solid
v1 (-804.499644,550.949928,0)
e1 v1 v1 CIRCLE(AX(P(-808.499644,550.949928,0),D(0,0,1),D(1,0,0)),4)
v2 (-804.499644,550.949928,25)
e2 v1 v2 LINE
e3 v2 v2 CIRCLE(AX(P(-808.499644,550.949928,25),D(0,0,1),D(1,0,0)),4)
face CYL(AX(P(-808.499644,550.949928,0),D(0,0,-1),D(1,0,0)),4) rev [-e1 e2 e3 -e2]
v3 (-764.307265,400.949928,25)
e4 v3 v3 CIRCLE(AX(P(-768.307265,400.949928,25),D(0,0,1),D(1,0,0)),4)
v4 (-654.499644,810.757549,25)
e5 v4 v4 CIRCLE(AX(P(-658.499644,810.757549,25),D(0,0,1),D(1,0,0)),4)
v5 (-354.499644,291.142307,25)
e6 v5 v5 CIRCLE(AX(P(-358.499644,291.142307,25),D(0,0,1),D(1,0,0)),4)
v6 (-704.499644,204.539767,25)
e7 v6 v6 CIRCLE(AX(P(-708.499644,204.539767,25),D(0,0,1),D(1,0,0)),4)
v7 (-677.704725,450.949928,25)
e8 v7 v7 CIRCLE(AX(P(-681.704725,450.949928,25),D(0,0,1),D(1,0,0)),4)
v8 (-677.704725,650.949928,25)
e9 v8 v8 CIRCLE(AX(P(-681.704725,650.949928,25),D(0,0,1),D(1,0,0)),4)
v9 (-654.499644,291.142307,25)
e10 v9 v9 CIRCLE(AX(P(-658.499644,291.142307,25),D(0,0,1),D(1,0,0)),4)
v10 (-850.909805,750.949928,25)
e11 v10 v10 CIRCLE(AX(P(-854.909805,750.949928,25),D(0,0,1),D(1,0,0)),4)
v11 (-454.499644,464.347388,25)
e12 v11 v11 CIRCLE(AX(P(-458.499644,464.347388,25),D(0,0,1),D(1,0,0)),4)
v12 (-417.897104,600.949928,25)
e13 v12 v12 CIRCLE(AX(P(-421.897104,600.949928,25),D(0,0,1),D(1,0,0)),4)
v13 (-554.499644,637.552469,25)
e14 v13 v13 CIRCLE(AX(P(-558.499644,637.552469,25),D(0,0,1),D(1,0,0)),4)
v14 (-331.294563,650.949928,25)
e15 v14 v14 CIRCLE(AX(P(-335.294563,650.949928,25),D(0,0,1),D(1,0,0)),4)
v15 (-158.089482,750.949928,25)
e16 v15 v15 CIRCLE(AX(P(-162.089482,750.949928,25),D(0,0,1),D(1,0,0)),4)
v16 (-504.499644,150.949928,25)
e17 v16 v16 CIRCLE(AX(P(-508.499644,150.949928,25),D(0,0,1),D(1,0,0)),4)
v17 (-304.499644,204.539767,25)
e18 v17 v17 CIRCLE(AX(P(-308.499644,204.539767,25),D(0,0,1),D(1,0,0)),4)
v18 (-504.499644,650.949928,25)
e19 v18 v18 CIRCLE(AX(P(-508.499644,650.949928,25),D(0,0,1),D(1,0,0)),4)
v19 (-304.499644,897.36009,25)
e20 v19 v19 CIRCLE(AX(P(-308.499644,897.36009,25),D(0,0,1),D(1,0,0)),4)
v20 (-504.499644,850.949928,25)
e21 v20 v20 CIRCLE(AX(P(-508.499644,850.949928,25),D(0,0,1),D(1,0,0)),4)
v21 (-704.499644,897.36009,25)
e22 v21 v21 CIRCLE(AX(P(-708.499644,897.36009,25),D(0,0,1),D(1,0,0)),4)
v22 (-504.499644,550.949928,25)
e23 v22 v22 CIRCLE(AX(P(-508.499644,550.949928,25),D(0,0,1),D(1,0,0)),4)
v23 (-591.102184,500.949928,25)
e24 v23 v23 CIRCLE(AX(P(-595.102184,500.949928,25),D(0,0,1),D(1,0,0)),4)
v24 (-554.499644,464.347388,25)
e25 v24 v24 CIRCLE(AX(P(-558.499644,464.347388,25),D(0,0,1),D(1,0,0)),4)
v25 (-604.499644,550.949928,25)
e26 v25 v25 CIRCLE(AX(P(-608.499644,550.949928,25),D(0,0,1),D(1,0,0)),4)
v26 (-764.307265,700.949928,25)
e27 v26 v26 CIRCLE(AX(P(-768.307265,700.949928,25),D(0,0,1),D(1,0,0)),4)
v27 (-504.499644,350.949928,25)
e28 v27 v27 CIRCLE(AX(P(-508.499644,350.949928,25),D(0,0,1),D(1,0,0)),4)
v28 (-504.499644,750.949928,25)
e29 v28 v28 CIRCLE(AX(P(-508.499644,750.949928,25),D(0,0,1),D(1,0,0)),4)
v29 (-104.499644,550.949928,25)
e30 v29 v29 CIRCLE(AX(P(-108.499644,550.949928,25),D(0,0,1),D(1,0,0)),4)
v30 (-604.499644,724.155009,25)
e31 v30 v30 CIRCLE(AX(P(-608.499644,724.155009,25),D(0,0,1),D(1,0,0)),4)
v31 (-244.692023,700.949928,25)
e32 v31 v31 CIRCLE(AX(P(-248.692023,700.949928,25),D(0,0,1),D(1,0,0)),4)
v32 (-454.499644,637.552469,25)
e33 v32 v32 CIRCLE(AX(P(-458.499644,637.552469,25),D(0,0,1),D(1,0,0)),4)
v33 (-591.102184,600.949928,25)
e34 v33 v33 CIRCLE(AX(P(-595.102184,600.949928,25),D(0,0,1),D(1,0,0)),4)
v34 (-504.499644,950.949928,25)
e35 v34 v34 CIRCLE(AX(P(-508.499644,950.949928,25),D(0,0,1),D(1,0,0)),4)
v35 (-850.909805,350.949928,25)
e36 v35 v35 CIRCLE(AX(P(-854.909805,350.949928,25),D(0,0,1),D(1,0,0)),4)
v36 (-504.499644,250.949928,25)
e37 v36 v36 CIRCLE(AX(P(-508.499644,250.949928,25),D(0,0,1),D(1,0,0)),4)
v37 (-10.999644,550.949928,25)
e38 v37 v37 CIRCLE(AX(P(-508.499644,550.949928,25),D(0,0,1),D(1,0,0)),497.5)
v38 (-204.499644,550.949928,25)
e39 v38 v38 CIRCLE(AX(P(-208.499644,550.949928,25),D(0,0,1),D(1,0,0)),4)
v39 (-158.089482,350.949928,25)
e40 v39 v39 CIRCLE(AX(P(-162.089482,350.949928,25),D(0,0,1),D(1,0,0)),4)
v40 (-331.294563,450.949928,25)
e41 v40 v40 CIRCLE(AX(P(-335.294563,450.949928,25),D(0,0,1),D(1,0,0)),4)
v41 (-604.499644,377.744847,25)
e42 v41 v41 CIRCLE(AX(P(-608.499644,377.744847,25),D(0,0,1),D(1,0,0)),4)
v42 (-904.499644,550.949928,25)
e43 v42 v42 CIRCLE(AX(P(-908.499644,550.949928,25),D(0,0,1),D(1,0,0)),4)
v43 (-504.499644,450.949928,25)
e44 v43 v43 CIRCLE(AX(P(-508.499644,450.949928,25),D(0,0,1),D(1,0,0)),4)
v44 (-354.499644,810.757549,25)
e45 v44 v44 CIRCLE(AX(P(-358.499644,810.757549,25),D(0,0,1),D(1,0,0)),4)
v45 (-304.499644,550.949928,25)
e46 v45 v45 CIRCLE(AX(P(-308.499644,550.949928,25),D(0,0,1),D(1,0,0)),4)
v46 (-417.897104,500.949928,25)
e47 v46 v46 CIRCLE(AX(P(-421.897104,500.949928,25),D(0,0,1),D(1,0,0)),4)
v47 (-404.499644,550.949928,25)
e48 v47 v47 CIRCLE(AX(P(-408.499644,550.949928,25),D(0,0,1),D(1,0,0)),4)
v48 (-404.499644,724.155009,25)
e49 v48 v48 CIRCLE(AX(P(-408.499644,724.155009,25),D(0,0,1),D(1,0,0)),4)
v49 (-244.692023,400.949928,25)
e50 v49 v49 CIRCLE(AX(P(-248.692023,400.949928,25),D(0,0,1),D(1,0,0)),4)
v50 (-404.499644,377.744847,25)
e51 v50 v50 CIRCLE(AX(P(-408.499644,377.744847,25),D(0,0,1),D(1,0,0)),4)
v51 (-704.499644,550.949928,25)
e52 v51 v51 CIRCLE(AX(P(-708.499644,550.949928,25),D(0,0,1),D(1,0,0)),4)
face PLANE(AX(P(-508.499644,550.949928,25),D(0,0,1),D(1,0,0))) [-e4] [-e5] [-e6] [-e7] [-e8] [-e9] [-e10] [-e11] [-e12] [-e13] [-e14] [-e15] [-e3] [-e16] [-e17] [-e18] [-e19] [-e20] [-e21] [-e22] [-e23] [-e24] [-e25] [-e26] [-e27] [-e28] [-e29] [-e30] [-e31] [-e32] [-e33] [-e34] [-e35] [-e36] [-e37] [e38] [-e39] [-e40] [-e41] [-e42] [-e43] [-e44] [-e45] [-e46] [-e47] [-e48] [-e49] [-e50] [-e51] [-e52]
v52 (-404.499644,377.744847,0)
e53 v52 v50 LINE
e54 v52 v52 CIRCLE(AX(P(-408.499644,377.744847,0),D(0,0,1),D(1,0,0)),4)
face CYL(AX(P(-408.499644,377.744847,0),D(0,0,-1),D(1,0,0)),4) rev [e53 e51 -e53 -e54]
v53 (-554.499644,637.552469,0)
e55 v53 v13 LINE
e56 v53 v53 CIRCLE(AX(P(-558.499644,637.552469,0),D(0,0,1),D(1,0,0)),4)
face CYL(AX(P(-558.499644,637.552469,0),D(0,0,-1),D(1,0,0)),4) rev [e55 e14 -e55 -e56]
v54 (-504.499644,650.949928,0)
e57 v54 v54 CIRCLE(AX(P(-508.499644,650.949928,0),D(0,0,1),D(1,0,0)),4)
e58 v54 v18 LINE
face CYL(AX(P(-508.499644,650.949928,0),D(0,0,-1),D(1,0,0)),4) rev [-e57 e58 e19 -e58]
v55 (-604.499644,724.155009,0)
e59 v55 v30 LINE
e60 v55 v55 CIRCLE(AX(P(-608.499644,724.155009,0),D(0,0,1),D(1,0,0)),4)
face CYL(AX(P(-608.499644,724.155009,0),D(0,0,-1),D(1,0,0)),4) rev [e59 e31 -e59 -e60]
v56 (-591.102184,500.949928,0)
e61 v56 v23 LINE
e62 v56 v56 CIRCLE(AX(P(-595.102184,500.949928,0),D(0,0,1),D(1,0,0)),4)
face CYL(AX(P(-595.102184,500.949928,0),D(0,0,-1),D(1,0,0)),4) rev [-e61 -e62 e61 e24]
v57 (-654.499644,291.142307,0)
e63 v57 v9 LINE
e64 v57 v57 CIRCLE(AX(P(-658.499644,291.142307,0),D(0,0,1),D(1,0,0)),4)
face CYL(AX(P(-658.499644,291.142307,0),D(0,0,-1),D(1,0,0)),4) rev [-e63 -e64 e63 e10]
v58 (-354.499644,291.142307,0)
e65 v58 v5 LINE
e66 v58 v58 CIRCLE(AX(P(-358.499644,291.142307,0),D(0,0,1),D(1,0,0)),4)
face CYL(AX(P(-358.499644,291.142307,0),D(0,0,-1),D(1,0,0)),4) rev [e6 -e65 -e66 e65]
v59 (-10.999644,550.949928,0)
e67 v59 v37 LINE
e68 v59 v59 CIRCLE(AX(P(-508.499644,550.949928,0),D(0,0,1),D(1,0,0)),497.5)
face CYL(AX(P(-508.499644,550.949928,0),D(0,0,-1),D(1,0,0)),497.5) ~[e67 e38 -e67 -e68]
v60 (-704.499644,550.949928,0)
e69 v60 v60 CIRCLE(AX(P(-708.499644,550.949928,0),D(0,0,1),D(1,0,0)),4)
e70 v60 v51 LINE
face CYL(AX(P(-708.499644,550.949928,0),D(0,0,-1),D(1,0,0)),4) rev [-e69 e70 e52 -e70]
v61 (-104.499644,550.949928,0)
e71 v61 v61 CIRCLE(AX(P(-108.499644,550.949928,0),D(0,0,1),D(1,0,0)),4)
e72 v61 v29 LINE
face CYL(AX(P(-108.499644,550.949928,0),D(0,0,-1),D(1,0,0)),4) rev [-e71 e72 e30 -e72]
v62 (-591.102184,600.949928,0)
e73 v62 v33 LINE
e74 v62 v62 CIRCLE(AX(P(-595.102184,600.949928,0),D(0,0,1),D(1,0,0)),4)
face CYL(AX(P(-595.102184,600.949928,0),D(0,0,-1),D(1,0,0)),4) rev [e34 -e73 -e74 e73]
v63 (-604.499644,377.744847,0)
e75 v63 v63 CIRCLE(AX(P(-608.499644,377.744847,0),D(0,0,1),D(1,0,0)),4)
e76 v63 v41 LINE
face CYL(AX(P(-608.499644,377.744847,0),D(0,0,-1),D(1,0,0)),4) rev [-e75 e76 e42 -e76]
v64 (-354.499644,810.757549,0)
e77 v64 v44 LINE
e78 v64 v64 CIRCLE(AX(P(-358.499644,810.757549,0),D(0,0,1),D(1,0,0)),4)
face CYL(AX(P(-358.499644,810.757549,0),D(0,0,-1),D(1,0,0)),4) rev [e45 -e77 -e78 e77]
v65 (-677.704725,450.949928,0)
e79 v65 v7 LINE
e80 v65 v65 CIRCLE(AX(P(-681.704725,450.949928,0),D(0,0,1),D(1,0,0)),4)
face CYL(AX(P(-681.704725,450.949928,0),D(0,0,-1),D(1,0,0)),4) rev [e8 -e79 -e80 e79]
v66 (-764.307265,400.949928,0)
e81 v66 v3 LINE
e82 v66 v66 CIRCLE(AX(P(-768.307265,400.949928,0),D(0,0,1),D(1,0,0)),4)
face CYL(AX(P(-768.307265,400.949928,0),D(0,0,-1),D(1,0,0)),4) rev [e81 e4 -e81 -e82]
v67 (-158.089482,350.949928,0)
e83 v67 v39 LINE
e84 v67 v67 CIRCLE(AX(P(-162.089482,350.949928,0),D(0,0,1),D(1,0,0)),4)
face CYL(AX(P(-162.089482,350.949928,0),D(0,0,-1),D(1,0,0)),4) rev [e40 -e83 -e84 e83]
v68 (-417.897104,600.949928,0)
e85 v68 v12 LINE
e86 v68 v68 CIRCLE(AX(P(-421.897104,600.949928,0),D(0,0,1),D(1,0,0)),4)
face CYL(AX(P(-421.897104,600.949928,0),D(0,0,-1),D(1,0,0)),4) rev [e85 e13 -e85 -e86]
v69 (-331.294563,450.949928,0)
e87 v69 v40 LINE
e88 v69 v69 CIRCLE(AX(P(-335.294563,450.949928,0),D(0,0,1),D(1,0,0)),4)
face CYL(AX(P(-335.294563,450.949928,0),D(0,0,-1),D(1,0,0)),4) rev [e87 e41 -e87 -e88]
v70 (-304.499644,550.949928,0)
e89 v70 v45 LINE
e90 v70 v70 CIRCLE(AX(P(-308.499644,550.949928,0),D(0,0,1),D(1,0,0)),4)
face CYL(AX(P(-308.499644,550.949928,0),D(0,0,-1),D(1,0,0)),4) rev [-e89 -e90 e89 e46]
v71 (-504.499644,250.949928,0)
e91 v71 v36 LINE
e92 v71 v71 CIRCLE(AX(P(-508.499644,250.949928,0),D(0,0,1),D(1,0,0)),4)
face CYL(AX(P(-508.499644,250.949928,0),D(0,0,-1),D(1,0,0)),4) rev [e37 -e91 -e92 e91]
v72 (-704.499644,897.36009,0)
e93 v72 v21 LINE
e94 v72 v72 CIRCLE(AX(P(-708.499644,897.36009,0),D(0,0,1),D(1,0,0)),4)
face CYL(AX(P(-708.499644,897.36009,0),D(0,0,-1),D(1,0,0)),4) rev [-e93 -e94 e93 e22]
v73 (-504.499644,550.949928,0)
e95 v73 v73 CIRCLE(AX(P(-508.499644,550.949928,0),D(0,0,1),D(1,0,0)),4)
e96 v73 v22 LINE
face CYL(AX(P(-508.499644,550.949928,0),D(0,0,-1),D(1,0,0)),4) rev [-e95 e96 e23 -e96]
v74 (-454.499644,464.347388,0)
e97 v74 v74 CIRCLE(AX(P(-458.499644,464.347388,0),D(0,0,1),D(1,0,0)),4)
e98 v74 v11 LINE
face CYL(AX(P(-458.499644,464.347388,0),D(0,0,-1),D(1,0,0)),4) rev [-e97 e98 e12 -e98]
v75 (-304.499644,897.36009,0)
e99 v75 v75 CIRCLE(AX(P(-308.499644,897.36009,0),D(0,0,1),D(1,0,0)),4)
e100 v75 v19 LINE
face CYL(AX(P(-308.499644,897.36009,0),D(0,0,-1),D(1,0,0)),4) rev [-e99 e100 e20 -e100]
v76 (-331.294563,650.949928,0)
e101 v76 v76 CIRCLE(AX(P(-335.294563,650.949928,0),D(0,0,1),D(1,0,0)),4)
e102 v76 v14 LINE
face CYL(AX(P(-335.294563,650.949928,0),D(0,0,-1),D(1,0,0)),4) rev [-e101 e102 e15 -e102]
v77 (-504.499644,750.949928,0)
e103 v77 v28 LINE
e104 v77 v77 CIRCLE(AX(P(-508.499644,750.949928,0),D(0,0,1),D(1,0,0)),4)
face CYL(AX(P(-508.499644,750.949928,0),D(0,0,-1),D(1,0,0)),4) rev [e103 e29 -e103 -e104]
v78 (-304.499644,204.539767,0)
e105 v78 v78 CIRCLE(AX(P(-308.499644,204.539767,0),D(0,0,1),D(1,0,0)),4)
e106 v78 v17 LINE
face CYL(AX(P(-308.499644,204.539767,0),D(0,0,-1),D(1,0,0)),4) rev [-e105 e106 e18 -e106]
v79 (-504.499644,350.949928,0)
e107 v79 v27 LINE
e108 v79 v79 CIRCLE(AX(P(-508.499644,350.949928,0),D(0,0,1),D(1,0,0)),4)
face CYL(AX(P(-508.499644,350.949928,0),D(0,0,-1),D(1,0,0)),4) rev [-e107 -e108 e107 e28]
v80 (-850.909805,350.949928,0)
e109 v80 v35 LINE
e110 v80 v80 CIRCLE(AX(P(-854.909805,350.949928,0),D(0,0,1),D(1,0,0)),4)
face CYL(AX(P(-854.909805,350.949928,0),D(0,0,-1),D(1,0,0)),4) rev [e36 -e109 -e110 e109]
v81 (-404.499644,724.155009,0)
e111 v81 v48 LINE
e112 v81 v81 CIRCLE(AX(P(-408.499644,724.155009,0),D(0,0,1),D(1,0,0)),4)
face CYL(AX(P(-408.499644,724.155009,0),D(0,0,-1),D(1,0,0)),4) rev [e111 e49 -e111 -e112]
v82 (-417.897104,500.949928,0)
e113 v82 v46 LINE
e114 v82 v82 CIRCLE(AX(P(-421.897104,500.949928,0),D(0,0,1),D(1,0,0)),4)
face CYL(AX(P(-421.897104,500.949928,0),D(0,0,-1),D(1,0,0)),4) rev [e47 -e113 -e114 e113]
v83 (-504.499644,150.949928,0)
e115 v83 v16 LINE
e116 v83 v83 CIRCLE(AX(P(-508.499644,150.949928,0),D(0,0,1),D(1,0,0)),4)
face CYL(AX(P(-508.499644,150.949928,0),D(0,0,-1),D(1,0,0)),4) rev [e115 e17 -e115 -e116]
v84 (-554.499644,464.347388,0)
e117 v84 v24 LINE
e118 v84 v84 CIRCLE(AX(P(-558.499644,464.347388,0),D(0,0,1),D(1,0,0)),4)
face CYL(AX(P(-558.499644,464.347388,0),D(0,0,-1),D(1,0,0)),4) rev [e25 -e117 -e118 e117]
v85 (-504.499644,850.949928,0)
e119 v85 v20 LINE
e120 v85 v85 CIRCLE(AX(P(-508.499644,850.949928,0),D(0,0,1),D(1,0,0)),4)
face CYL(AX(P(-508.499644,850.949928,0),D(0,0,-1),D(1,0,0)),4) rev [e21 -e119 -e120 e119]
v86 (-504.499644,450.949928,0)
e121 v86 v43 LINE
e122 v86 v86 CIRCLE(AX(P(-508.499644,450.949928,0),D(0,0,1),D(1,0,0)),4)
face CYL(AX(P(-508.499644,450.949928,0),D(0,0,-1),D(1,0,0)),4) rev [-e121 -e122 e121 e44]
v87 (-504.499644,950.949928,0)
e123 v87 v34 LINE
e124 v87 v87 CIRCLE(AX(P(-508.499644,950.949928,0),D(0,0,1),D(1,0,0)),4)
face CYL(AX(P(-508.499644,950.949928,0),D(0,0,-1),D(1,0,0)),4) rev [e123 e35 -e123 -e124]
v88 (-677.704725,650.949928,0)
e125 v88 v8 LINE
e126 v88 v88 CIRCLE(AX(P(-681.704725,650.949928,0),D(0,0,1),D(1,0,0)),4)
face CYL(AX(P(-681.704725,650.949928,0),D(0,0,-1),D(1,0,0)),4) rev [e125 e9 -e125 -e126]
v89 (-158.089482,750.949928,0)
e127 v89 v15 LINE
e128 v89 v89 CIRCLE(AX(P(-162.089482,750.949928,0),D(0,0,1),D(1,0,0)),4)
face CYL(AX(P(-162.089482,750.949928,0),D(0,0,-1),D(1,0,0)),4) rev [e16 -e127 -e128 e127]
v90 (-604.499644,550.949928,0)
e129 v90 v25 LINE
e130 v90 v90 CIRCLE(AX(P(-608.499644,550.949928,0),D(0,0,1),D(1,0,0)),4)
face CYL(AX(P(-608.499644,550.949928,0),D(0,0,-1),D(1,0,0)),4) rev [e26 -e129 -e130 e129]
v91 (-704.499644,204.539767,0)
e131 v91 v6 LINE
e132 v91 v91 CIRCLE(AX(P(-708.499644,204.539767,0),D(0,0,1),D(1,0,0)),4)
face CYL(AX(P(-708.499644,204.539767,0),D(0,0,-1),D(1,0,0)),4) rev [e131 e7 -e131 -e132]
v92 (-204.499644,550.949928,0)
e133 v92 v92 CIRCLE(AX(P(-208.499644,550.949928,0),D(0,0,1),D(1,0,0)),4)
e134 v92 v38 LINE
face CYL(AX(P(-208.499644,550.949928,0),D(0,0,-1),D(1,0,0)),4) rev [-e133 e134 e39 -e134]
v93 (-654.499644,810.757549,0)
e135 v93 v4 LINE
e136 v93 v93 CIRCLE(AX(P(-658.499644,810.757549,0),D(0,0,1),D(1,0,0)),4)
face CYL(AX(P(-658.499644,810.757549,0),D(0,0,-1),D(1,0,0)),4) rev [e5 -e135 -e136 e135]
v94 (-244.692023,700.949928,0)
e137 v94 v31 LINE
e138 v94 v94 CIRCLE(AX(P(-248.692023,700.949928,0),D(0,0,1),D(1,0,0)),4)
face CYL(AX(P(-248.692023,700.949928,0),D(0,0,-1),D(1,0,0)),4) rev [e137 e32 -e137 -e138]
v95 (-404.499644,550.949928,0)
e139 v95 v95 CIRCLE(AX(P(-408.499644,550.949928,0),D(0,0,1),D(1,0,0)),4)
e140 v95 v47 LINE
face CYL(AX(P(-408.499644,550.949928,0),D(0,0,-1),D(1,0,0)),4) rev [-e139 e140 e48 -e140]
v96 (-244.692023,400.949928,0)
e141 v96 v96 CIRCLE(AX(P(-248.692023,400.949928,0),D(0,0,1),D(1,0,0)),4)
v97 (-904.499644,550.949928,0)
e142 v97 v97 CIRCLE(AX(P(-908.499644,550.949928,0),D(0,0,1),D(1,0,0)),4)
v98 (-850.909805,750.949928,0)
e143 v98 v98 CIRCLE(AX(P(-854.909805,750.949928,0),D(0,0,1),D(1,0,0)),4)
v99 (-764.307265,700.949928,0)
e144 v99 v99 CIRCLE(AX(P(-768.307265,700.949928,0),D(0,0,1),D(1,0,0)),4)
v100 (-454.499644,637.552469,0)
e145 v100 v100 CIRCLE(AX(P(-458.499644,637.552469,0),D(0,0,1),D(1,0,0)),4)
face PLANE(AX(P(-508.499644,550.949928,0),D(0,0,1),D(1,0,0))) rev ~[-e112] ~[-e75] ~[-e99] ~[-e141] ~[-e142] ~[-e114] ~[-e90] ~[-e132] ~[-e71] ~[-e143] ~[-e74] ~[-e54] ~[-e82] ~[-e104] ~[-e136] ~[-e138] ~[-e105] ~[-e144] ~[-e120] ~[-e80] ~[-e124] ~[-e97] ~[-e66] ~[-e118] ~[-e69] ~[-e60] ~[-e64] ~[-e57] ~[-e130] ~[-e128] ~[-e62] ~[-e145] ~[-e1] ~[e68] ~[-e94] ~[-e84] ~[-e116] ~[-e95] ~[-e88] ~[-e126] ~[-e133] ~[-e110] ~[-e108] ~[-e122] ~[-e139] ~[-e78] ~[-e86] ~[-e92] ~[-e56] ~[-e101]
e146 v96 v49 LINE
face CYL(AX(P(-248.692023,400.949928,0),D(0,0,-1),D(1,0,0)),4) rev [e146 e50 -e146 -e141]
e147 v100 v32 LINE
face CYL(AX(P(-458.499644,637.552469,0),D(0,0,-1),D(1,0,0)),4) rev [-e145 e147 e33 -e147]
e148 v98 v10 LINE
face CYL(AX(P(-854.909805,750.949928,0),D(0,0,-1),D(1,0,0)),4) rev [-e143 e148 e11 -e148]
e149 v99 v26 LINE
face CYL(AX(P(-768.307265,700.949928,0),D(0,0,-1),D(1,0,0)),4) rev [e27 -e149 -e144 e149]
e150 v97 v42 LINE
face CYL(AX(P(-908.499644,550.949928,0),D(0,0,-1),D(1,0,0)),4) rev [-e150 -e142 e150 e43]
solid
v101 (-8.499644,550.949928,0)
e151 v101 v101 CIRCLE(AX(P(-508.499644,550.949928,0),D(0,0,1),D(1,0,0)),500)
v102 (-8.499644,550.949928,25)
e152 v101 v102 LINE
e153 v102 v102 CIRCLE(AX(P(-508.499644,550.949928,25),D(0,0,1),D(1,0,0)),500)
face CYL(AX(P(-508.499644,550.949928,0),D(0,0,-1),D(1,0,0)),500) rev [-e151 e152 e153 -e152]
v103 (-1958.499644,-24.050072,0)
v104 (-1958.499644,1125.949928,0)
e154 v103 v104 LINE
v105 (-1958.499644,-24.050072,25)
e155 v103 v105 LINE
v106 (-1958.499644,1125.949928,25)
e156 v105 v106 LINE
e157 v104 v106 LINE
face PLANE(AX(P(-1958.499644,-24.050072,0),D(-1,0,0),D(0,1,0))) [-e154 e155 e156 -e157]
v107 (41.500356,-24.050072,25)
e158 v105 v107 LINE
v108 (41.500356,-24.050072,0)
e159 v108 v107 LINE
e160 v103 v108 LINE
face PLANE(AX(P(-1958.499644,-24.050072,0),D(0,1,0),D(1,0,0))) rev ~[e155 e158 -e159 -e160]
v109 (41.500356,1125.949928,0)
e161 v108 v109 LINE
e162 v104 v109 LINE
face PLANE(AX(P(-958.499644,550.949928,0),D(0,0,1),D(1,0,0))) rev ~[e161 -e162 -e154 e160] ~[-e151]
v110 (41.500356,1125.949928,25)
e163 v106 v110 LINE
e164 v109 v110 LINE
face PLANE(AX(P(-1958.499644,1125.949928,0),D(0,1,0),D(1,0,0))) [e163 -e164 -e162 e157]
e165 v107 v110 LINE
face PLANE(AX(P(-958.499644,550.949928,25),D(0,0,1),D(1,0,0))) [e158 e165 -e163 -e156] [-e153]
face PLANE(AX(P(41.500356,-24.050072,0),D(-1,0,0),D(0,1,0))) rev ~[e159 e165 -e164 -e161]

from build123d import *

# Parameters (mm, degrees)
F0_W     = 2000
F0_H     = 1150
F0_R     = 500
F1_DEPTH = 25
F2_R     = 497.5
F2_R_2   = 4
F3_DEPTH = 25


with BuildPart() as f1:
    # F0 (on Top) → F1 (new body)
    with BuildSketch(Plane.XY):
        with Locations((-958.499644, 550.949928)):
            Rectangle(F0_W, F0_H)
        with Locations((-508.499644, 550.949928)):
            Circle(F0_R, mode=Mode.SUBTRACT)
    extrude(amount=F1_DEPTH)


with BuildPart() as f3:
    # F2 (on face) → F3 (new body)
    with BuildSketch(Plane.XY):
        with Locations((-508.499644, 550.949928)):
            Circle(F2_R)
        with Locations((-708.499644, 204.539767)):
            Circle(F2_R_2, mode=Mode.SUBTRACT)
        with Locations((-658.499644, 291.142307)):
            Circle(F2_R_2, mode=Mode.SUBTRACT)
        with Locations((-854.909805, 350.949928)):
            Circle(F2_R_2, mode=Mode.SUBTRACT)
        with Locations((-768.307265, 400.949928)):
            Circle(F2_R_2, mode=Mode.SUBTRACT)
        with Locations((-608.499644, 377.744847)):
            Circle(F2_R_2, mode=Mode.SUBTRACT)
        with Locations((-681.704725, 450.949928)):
            Circle(F2_R_2, mode=Mode.SUBTRACT)
        with Locations((-558.499644, 464.347388)):
            Circle(F2_R_2, mode=Mode.SUBTRACT)
        with Locations((-595.102184, 500.949928)):
            Circle(F2_R_2, mode=Mode.SUBTRACT)
        with Locations((-508.499644, 150.949928)):
            Circle(F2_R_2, mode=Mode.SUBTRACT)
        with Locations((-508.499644, 250.949928)):
            Circle(F2_R_2, mode=Mode.SUBTRACT)
        with Locations((-308.499644, 204.539767)):
            Circle(F2_R_2, mode=Mode.SUBTRACT)
        with Locations((-358.499644, 291.142307)):
            Circle(F2_R_2, mode=Mode.SUBTRACT)
        with Locations((-508.499644, 350.949928)):
            Circle(F2_R_2, mode=Mode.SUBTRACT)
        with Locations((-408.499644, 377.744847)):
            Circle(F2_R_2, mode=Mode.SUBTRACT)
        with Locations((-508.499644, 450.949928)):
            Circle(F2_R_2, mode=Mode.SUBTRACT)
        with Locations((-458.499644, 464.347388)):
            Circle(F2_R_2, mode=Mode.SUBTRACT)
        with Locations((-421.897104, 500.949928)):
            Circle(F2_R_2, mode=Mode.SUBTRACT)
        with Locations((-408.499644, 550.949928)):
            Circle(F2_R_2, mode=Mode.SUBTRACT)
        with Locations((-335.294563, 450.949928)):
            Circle(F2_R_2, mode=Mode.SUBTRACT)
        with Locations((-308.499644, 550.949928)):
            Circle(F2_R_2, mode=Mode.SUBTRACT)
        with Locations((-162.089482, 350.949928)):
            Circle(F2_R_2, mode=Mode.SUBTRACT)
        with Locations((-248.692023, 400.949928)):
            Circle(F2_R_2, mode=Mode.SUBTRACT)
        with Locations((-208.499644, 550.949928)):
            Circle(F2_R_2, mode=Mode.SUBTRACT)
        with Locations((-108.499644, 550.949928)):
            Circle(F2_R_2, mode=Mode.SUBTRACT)
        with Locations((-908.499644, 550.949928)):
            Circle(F2_R_2, mode=Mode.SUBTRACT)
        with Locations((-808.499644, 550.949928)):
            Circle(F2_R_2, mode=Mode.SUBTRACT)
        with Locations((-768.307265, 700.949928)):
            Circle(F2_R_2, mode=Mode.SUBTRACT)
        with Locations((-854.909805, 750.949928)):
            Circle(F2_R_2, mode=Mode.SUBTRACT)
        with Locations((-708.499644, 550.949928)):
            Circle(F2_R_2, mode=Mode.SUBTRACT)
        with Locations((-681.704725, 650.949928)):
            Circle(F2_R_2, mode=Mode.SUBTRACT)
        with Locations((-608.499644, 550.949928)):
            Circle(F2_R_2, mode=Mode.SUBTRACT)
        with Locations((-595.102184, 600.949928)):
            Circle(F2_R_2, mode=Mode.SUBTRACT)
        with Locations((-558.499644, 637.552469)):
            Circle(F2_R_2, mode=Mode.SUBTRACT)
        with Locations((-608.499644, 724.155009)):
            Circle(F2_R_2, mode=Mode.SUBTRACT)
        with Locations((-658.499644, 810.757549)):
            Circle(F2_R_2, mode=Mode.SUBTRACT)
        with Locations((-708.499644, 897.36009)):
            Circle(F2_R_2, mode=Mode.SUBTRACT)
        with Locations((-508.499644, 550.949928)):
            Circle(F2_R_2, mode=Mode.SUBTRACT)
        with Locations((-421.897104, 600.949928)):
            Circle(F2_R_2, mode=Mode.SUBTRACT)
        with Locations((-458.499644, 637.552469)):
            Circle(F2_R_2, mode=Mode.SUBTRACT)
        with Locations((-508.499644, 650.949928)):
            Circle(F2_R_2, mode=Mode.SUBTRACT)
        with Locations((-335.294563, 650.949928)):
            Circle(F2_R_2, mode=Mode.SUBTRACT)
        with Locations((-408.499644, 724.155009)):
            Circle(F2_R_2, mode=Mode.SUBTRACT)
        with Locations((-508.499644, 750.949928)):
            Circle(F2_R_2, mode=Mode.SUBTRACT)
        with Locations((-248.692023, 700.949928)):
            Circle(F2_R_2, mode=Mode.SUBTRACT)
        with Locations((-162.089482, 750.949928)):
            Circle(F2_R_2, mode=Mode.SUBTRACT)
        with Locations((-508.499644, 850.949928)):
            Circle(F2_R_2, mode=Mode.SUBTRACT)
        with Locations((-358.499644, 810.757549)):
            Circle(F2_R_2, mode=Mode.SUBTRACT)
        with Locations((-308.499644, 897.36009)):
            Circle(F2_R_2, mode=Mode.SUBTRACT)
        with Locations((-508.499644, 950.949928)):
            Circle(F2_R_2, mode=Mode.SUBTRACT)
    extrude(amount=F3_DEPTH)


solid = Compound([f1.part, f3.part])
